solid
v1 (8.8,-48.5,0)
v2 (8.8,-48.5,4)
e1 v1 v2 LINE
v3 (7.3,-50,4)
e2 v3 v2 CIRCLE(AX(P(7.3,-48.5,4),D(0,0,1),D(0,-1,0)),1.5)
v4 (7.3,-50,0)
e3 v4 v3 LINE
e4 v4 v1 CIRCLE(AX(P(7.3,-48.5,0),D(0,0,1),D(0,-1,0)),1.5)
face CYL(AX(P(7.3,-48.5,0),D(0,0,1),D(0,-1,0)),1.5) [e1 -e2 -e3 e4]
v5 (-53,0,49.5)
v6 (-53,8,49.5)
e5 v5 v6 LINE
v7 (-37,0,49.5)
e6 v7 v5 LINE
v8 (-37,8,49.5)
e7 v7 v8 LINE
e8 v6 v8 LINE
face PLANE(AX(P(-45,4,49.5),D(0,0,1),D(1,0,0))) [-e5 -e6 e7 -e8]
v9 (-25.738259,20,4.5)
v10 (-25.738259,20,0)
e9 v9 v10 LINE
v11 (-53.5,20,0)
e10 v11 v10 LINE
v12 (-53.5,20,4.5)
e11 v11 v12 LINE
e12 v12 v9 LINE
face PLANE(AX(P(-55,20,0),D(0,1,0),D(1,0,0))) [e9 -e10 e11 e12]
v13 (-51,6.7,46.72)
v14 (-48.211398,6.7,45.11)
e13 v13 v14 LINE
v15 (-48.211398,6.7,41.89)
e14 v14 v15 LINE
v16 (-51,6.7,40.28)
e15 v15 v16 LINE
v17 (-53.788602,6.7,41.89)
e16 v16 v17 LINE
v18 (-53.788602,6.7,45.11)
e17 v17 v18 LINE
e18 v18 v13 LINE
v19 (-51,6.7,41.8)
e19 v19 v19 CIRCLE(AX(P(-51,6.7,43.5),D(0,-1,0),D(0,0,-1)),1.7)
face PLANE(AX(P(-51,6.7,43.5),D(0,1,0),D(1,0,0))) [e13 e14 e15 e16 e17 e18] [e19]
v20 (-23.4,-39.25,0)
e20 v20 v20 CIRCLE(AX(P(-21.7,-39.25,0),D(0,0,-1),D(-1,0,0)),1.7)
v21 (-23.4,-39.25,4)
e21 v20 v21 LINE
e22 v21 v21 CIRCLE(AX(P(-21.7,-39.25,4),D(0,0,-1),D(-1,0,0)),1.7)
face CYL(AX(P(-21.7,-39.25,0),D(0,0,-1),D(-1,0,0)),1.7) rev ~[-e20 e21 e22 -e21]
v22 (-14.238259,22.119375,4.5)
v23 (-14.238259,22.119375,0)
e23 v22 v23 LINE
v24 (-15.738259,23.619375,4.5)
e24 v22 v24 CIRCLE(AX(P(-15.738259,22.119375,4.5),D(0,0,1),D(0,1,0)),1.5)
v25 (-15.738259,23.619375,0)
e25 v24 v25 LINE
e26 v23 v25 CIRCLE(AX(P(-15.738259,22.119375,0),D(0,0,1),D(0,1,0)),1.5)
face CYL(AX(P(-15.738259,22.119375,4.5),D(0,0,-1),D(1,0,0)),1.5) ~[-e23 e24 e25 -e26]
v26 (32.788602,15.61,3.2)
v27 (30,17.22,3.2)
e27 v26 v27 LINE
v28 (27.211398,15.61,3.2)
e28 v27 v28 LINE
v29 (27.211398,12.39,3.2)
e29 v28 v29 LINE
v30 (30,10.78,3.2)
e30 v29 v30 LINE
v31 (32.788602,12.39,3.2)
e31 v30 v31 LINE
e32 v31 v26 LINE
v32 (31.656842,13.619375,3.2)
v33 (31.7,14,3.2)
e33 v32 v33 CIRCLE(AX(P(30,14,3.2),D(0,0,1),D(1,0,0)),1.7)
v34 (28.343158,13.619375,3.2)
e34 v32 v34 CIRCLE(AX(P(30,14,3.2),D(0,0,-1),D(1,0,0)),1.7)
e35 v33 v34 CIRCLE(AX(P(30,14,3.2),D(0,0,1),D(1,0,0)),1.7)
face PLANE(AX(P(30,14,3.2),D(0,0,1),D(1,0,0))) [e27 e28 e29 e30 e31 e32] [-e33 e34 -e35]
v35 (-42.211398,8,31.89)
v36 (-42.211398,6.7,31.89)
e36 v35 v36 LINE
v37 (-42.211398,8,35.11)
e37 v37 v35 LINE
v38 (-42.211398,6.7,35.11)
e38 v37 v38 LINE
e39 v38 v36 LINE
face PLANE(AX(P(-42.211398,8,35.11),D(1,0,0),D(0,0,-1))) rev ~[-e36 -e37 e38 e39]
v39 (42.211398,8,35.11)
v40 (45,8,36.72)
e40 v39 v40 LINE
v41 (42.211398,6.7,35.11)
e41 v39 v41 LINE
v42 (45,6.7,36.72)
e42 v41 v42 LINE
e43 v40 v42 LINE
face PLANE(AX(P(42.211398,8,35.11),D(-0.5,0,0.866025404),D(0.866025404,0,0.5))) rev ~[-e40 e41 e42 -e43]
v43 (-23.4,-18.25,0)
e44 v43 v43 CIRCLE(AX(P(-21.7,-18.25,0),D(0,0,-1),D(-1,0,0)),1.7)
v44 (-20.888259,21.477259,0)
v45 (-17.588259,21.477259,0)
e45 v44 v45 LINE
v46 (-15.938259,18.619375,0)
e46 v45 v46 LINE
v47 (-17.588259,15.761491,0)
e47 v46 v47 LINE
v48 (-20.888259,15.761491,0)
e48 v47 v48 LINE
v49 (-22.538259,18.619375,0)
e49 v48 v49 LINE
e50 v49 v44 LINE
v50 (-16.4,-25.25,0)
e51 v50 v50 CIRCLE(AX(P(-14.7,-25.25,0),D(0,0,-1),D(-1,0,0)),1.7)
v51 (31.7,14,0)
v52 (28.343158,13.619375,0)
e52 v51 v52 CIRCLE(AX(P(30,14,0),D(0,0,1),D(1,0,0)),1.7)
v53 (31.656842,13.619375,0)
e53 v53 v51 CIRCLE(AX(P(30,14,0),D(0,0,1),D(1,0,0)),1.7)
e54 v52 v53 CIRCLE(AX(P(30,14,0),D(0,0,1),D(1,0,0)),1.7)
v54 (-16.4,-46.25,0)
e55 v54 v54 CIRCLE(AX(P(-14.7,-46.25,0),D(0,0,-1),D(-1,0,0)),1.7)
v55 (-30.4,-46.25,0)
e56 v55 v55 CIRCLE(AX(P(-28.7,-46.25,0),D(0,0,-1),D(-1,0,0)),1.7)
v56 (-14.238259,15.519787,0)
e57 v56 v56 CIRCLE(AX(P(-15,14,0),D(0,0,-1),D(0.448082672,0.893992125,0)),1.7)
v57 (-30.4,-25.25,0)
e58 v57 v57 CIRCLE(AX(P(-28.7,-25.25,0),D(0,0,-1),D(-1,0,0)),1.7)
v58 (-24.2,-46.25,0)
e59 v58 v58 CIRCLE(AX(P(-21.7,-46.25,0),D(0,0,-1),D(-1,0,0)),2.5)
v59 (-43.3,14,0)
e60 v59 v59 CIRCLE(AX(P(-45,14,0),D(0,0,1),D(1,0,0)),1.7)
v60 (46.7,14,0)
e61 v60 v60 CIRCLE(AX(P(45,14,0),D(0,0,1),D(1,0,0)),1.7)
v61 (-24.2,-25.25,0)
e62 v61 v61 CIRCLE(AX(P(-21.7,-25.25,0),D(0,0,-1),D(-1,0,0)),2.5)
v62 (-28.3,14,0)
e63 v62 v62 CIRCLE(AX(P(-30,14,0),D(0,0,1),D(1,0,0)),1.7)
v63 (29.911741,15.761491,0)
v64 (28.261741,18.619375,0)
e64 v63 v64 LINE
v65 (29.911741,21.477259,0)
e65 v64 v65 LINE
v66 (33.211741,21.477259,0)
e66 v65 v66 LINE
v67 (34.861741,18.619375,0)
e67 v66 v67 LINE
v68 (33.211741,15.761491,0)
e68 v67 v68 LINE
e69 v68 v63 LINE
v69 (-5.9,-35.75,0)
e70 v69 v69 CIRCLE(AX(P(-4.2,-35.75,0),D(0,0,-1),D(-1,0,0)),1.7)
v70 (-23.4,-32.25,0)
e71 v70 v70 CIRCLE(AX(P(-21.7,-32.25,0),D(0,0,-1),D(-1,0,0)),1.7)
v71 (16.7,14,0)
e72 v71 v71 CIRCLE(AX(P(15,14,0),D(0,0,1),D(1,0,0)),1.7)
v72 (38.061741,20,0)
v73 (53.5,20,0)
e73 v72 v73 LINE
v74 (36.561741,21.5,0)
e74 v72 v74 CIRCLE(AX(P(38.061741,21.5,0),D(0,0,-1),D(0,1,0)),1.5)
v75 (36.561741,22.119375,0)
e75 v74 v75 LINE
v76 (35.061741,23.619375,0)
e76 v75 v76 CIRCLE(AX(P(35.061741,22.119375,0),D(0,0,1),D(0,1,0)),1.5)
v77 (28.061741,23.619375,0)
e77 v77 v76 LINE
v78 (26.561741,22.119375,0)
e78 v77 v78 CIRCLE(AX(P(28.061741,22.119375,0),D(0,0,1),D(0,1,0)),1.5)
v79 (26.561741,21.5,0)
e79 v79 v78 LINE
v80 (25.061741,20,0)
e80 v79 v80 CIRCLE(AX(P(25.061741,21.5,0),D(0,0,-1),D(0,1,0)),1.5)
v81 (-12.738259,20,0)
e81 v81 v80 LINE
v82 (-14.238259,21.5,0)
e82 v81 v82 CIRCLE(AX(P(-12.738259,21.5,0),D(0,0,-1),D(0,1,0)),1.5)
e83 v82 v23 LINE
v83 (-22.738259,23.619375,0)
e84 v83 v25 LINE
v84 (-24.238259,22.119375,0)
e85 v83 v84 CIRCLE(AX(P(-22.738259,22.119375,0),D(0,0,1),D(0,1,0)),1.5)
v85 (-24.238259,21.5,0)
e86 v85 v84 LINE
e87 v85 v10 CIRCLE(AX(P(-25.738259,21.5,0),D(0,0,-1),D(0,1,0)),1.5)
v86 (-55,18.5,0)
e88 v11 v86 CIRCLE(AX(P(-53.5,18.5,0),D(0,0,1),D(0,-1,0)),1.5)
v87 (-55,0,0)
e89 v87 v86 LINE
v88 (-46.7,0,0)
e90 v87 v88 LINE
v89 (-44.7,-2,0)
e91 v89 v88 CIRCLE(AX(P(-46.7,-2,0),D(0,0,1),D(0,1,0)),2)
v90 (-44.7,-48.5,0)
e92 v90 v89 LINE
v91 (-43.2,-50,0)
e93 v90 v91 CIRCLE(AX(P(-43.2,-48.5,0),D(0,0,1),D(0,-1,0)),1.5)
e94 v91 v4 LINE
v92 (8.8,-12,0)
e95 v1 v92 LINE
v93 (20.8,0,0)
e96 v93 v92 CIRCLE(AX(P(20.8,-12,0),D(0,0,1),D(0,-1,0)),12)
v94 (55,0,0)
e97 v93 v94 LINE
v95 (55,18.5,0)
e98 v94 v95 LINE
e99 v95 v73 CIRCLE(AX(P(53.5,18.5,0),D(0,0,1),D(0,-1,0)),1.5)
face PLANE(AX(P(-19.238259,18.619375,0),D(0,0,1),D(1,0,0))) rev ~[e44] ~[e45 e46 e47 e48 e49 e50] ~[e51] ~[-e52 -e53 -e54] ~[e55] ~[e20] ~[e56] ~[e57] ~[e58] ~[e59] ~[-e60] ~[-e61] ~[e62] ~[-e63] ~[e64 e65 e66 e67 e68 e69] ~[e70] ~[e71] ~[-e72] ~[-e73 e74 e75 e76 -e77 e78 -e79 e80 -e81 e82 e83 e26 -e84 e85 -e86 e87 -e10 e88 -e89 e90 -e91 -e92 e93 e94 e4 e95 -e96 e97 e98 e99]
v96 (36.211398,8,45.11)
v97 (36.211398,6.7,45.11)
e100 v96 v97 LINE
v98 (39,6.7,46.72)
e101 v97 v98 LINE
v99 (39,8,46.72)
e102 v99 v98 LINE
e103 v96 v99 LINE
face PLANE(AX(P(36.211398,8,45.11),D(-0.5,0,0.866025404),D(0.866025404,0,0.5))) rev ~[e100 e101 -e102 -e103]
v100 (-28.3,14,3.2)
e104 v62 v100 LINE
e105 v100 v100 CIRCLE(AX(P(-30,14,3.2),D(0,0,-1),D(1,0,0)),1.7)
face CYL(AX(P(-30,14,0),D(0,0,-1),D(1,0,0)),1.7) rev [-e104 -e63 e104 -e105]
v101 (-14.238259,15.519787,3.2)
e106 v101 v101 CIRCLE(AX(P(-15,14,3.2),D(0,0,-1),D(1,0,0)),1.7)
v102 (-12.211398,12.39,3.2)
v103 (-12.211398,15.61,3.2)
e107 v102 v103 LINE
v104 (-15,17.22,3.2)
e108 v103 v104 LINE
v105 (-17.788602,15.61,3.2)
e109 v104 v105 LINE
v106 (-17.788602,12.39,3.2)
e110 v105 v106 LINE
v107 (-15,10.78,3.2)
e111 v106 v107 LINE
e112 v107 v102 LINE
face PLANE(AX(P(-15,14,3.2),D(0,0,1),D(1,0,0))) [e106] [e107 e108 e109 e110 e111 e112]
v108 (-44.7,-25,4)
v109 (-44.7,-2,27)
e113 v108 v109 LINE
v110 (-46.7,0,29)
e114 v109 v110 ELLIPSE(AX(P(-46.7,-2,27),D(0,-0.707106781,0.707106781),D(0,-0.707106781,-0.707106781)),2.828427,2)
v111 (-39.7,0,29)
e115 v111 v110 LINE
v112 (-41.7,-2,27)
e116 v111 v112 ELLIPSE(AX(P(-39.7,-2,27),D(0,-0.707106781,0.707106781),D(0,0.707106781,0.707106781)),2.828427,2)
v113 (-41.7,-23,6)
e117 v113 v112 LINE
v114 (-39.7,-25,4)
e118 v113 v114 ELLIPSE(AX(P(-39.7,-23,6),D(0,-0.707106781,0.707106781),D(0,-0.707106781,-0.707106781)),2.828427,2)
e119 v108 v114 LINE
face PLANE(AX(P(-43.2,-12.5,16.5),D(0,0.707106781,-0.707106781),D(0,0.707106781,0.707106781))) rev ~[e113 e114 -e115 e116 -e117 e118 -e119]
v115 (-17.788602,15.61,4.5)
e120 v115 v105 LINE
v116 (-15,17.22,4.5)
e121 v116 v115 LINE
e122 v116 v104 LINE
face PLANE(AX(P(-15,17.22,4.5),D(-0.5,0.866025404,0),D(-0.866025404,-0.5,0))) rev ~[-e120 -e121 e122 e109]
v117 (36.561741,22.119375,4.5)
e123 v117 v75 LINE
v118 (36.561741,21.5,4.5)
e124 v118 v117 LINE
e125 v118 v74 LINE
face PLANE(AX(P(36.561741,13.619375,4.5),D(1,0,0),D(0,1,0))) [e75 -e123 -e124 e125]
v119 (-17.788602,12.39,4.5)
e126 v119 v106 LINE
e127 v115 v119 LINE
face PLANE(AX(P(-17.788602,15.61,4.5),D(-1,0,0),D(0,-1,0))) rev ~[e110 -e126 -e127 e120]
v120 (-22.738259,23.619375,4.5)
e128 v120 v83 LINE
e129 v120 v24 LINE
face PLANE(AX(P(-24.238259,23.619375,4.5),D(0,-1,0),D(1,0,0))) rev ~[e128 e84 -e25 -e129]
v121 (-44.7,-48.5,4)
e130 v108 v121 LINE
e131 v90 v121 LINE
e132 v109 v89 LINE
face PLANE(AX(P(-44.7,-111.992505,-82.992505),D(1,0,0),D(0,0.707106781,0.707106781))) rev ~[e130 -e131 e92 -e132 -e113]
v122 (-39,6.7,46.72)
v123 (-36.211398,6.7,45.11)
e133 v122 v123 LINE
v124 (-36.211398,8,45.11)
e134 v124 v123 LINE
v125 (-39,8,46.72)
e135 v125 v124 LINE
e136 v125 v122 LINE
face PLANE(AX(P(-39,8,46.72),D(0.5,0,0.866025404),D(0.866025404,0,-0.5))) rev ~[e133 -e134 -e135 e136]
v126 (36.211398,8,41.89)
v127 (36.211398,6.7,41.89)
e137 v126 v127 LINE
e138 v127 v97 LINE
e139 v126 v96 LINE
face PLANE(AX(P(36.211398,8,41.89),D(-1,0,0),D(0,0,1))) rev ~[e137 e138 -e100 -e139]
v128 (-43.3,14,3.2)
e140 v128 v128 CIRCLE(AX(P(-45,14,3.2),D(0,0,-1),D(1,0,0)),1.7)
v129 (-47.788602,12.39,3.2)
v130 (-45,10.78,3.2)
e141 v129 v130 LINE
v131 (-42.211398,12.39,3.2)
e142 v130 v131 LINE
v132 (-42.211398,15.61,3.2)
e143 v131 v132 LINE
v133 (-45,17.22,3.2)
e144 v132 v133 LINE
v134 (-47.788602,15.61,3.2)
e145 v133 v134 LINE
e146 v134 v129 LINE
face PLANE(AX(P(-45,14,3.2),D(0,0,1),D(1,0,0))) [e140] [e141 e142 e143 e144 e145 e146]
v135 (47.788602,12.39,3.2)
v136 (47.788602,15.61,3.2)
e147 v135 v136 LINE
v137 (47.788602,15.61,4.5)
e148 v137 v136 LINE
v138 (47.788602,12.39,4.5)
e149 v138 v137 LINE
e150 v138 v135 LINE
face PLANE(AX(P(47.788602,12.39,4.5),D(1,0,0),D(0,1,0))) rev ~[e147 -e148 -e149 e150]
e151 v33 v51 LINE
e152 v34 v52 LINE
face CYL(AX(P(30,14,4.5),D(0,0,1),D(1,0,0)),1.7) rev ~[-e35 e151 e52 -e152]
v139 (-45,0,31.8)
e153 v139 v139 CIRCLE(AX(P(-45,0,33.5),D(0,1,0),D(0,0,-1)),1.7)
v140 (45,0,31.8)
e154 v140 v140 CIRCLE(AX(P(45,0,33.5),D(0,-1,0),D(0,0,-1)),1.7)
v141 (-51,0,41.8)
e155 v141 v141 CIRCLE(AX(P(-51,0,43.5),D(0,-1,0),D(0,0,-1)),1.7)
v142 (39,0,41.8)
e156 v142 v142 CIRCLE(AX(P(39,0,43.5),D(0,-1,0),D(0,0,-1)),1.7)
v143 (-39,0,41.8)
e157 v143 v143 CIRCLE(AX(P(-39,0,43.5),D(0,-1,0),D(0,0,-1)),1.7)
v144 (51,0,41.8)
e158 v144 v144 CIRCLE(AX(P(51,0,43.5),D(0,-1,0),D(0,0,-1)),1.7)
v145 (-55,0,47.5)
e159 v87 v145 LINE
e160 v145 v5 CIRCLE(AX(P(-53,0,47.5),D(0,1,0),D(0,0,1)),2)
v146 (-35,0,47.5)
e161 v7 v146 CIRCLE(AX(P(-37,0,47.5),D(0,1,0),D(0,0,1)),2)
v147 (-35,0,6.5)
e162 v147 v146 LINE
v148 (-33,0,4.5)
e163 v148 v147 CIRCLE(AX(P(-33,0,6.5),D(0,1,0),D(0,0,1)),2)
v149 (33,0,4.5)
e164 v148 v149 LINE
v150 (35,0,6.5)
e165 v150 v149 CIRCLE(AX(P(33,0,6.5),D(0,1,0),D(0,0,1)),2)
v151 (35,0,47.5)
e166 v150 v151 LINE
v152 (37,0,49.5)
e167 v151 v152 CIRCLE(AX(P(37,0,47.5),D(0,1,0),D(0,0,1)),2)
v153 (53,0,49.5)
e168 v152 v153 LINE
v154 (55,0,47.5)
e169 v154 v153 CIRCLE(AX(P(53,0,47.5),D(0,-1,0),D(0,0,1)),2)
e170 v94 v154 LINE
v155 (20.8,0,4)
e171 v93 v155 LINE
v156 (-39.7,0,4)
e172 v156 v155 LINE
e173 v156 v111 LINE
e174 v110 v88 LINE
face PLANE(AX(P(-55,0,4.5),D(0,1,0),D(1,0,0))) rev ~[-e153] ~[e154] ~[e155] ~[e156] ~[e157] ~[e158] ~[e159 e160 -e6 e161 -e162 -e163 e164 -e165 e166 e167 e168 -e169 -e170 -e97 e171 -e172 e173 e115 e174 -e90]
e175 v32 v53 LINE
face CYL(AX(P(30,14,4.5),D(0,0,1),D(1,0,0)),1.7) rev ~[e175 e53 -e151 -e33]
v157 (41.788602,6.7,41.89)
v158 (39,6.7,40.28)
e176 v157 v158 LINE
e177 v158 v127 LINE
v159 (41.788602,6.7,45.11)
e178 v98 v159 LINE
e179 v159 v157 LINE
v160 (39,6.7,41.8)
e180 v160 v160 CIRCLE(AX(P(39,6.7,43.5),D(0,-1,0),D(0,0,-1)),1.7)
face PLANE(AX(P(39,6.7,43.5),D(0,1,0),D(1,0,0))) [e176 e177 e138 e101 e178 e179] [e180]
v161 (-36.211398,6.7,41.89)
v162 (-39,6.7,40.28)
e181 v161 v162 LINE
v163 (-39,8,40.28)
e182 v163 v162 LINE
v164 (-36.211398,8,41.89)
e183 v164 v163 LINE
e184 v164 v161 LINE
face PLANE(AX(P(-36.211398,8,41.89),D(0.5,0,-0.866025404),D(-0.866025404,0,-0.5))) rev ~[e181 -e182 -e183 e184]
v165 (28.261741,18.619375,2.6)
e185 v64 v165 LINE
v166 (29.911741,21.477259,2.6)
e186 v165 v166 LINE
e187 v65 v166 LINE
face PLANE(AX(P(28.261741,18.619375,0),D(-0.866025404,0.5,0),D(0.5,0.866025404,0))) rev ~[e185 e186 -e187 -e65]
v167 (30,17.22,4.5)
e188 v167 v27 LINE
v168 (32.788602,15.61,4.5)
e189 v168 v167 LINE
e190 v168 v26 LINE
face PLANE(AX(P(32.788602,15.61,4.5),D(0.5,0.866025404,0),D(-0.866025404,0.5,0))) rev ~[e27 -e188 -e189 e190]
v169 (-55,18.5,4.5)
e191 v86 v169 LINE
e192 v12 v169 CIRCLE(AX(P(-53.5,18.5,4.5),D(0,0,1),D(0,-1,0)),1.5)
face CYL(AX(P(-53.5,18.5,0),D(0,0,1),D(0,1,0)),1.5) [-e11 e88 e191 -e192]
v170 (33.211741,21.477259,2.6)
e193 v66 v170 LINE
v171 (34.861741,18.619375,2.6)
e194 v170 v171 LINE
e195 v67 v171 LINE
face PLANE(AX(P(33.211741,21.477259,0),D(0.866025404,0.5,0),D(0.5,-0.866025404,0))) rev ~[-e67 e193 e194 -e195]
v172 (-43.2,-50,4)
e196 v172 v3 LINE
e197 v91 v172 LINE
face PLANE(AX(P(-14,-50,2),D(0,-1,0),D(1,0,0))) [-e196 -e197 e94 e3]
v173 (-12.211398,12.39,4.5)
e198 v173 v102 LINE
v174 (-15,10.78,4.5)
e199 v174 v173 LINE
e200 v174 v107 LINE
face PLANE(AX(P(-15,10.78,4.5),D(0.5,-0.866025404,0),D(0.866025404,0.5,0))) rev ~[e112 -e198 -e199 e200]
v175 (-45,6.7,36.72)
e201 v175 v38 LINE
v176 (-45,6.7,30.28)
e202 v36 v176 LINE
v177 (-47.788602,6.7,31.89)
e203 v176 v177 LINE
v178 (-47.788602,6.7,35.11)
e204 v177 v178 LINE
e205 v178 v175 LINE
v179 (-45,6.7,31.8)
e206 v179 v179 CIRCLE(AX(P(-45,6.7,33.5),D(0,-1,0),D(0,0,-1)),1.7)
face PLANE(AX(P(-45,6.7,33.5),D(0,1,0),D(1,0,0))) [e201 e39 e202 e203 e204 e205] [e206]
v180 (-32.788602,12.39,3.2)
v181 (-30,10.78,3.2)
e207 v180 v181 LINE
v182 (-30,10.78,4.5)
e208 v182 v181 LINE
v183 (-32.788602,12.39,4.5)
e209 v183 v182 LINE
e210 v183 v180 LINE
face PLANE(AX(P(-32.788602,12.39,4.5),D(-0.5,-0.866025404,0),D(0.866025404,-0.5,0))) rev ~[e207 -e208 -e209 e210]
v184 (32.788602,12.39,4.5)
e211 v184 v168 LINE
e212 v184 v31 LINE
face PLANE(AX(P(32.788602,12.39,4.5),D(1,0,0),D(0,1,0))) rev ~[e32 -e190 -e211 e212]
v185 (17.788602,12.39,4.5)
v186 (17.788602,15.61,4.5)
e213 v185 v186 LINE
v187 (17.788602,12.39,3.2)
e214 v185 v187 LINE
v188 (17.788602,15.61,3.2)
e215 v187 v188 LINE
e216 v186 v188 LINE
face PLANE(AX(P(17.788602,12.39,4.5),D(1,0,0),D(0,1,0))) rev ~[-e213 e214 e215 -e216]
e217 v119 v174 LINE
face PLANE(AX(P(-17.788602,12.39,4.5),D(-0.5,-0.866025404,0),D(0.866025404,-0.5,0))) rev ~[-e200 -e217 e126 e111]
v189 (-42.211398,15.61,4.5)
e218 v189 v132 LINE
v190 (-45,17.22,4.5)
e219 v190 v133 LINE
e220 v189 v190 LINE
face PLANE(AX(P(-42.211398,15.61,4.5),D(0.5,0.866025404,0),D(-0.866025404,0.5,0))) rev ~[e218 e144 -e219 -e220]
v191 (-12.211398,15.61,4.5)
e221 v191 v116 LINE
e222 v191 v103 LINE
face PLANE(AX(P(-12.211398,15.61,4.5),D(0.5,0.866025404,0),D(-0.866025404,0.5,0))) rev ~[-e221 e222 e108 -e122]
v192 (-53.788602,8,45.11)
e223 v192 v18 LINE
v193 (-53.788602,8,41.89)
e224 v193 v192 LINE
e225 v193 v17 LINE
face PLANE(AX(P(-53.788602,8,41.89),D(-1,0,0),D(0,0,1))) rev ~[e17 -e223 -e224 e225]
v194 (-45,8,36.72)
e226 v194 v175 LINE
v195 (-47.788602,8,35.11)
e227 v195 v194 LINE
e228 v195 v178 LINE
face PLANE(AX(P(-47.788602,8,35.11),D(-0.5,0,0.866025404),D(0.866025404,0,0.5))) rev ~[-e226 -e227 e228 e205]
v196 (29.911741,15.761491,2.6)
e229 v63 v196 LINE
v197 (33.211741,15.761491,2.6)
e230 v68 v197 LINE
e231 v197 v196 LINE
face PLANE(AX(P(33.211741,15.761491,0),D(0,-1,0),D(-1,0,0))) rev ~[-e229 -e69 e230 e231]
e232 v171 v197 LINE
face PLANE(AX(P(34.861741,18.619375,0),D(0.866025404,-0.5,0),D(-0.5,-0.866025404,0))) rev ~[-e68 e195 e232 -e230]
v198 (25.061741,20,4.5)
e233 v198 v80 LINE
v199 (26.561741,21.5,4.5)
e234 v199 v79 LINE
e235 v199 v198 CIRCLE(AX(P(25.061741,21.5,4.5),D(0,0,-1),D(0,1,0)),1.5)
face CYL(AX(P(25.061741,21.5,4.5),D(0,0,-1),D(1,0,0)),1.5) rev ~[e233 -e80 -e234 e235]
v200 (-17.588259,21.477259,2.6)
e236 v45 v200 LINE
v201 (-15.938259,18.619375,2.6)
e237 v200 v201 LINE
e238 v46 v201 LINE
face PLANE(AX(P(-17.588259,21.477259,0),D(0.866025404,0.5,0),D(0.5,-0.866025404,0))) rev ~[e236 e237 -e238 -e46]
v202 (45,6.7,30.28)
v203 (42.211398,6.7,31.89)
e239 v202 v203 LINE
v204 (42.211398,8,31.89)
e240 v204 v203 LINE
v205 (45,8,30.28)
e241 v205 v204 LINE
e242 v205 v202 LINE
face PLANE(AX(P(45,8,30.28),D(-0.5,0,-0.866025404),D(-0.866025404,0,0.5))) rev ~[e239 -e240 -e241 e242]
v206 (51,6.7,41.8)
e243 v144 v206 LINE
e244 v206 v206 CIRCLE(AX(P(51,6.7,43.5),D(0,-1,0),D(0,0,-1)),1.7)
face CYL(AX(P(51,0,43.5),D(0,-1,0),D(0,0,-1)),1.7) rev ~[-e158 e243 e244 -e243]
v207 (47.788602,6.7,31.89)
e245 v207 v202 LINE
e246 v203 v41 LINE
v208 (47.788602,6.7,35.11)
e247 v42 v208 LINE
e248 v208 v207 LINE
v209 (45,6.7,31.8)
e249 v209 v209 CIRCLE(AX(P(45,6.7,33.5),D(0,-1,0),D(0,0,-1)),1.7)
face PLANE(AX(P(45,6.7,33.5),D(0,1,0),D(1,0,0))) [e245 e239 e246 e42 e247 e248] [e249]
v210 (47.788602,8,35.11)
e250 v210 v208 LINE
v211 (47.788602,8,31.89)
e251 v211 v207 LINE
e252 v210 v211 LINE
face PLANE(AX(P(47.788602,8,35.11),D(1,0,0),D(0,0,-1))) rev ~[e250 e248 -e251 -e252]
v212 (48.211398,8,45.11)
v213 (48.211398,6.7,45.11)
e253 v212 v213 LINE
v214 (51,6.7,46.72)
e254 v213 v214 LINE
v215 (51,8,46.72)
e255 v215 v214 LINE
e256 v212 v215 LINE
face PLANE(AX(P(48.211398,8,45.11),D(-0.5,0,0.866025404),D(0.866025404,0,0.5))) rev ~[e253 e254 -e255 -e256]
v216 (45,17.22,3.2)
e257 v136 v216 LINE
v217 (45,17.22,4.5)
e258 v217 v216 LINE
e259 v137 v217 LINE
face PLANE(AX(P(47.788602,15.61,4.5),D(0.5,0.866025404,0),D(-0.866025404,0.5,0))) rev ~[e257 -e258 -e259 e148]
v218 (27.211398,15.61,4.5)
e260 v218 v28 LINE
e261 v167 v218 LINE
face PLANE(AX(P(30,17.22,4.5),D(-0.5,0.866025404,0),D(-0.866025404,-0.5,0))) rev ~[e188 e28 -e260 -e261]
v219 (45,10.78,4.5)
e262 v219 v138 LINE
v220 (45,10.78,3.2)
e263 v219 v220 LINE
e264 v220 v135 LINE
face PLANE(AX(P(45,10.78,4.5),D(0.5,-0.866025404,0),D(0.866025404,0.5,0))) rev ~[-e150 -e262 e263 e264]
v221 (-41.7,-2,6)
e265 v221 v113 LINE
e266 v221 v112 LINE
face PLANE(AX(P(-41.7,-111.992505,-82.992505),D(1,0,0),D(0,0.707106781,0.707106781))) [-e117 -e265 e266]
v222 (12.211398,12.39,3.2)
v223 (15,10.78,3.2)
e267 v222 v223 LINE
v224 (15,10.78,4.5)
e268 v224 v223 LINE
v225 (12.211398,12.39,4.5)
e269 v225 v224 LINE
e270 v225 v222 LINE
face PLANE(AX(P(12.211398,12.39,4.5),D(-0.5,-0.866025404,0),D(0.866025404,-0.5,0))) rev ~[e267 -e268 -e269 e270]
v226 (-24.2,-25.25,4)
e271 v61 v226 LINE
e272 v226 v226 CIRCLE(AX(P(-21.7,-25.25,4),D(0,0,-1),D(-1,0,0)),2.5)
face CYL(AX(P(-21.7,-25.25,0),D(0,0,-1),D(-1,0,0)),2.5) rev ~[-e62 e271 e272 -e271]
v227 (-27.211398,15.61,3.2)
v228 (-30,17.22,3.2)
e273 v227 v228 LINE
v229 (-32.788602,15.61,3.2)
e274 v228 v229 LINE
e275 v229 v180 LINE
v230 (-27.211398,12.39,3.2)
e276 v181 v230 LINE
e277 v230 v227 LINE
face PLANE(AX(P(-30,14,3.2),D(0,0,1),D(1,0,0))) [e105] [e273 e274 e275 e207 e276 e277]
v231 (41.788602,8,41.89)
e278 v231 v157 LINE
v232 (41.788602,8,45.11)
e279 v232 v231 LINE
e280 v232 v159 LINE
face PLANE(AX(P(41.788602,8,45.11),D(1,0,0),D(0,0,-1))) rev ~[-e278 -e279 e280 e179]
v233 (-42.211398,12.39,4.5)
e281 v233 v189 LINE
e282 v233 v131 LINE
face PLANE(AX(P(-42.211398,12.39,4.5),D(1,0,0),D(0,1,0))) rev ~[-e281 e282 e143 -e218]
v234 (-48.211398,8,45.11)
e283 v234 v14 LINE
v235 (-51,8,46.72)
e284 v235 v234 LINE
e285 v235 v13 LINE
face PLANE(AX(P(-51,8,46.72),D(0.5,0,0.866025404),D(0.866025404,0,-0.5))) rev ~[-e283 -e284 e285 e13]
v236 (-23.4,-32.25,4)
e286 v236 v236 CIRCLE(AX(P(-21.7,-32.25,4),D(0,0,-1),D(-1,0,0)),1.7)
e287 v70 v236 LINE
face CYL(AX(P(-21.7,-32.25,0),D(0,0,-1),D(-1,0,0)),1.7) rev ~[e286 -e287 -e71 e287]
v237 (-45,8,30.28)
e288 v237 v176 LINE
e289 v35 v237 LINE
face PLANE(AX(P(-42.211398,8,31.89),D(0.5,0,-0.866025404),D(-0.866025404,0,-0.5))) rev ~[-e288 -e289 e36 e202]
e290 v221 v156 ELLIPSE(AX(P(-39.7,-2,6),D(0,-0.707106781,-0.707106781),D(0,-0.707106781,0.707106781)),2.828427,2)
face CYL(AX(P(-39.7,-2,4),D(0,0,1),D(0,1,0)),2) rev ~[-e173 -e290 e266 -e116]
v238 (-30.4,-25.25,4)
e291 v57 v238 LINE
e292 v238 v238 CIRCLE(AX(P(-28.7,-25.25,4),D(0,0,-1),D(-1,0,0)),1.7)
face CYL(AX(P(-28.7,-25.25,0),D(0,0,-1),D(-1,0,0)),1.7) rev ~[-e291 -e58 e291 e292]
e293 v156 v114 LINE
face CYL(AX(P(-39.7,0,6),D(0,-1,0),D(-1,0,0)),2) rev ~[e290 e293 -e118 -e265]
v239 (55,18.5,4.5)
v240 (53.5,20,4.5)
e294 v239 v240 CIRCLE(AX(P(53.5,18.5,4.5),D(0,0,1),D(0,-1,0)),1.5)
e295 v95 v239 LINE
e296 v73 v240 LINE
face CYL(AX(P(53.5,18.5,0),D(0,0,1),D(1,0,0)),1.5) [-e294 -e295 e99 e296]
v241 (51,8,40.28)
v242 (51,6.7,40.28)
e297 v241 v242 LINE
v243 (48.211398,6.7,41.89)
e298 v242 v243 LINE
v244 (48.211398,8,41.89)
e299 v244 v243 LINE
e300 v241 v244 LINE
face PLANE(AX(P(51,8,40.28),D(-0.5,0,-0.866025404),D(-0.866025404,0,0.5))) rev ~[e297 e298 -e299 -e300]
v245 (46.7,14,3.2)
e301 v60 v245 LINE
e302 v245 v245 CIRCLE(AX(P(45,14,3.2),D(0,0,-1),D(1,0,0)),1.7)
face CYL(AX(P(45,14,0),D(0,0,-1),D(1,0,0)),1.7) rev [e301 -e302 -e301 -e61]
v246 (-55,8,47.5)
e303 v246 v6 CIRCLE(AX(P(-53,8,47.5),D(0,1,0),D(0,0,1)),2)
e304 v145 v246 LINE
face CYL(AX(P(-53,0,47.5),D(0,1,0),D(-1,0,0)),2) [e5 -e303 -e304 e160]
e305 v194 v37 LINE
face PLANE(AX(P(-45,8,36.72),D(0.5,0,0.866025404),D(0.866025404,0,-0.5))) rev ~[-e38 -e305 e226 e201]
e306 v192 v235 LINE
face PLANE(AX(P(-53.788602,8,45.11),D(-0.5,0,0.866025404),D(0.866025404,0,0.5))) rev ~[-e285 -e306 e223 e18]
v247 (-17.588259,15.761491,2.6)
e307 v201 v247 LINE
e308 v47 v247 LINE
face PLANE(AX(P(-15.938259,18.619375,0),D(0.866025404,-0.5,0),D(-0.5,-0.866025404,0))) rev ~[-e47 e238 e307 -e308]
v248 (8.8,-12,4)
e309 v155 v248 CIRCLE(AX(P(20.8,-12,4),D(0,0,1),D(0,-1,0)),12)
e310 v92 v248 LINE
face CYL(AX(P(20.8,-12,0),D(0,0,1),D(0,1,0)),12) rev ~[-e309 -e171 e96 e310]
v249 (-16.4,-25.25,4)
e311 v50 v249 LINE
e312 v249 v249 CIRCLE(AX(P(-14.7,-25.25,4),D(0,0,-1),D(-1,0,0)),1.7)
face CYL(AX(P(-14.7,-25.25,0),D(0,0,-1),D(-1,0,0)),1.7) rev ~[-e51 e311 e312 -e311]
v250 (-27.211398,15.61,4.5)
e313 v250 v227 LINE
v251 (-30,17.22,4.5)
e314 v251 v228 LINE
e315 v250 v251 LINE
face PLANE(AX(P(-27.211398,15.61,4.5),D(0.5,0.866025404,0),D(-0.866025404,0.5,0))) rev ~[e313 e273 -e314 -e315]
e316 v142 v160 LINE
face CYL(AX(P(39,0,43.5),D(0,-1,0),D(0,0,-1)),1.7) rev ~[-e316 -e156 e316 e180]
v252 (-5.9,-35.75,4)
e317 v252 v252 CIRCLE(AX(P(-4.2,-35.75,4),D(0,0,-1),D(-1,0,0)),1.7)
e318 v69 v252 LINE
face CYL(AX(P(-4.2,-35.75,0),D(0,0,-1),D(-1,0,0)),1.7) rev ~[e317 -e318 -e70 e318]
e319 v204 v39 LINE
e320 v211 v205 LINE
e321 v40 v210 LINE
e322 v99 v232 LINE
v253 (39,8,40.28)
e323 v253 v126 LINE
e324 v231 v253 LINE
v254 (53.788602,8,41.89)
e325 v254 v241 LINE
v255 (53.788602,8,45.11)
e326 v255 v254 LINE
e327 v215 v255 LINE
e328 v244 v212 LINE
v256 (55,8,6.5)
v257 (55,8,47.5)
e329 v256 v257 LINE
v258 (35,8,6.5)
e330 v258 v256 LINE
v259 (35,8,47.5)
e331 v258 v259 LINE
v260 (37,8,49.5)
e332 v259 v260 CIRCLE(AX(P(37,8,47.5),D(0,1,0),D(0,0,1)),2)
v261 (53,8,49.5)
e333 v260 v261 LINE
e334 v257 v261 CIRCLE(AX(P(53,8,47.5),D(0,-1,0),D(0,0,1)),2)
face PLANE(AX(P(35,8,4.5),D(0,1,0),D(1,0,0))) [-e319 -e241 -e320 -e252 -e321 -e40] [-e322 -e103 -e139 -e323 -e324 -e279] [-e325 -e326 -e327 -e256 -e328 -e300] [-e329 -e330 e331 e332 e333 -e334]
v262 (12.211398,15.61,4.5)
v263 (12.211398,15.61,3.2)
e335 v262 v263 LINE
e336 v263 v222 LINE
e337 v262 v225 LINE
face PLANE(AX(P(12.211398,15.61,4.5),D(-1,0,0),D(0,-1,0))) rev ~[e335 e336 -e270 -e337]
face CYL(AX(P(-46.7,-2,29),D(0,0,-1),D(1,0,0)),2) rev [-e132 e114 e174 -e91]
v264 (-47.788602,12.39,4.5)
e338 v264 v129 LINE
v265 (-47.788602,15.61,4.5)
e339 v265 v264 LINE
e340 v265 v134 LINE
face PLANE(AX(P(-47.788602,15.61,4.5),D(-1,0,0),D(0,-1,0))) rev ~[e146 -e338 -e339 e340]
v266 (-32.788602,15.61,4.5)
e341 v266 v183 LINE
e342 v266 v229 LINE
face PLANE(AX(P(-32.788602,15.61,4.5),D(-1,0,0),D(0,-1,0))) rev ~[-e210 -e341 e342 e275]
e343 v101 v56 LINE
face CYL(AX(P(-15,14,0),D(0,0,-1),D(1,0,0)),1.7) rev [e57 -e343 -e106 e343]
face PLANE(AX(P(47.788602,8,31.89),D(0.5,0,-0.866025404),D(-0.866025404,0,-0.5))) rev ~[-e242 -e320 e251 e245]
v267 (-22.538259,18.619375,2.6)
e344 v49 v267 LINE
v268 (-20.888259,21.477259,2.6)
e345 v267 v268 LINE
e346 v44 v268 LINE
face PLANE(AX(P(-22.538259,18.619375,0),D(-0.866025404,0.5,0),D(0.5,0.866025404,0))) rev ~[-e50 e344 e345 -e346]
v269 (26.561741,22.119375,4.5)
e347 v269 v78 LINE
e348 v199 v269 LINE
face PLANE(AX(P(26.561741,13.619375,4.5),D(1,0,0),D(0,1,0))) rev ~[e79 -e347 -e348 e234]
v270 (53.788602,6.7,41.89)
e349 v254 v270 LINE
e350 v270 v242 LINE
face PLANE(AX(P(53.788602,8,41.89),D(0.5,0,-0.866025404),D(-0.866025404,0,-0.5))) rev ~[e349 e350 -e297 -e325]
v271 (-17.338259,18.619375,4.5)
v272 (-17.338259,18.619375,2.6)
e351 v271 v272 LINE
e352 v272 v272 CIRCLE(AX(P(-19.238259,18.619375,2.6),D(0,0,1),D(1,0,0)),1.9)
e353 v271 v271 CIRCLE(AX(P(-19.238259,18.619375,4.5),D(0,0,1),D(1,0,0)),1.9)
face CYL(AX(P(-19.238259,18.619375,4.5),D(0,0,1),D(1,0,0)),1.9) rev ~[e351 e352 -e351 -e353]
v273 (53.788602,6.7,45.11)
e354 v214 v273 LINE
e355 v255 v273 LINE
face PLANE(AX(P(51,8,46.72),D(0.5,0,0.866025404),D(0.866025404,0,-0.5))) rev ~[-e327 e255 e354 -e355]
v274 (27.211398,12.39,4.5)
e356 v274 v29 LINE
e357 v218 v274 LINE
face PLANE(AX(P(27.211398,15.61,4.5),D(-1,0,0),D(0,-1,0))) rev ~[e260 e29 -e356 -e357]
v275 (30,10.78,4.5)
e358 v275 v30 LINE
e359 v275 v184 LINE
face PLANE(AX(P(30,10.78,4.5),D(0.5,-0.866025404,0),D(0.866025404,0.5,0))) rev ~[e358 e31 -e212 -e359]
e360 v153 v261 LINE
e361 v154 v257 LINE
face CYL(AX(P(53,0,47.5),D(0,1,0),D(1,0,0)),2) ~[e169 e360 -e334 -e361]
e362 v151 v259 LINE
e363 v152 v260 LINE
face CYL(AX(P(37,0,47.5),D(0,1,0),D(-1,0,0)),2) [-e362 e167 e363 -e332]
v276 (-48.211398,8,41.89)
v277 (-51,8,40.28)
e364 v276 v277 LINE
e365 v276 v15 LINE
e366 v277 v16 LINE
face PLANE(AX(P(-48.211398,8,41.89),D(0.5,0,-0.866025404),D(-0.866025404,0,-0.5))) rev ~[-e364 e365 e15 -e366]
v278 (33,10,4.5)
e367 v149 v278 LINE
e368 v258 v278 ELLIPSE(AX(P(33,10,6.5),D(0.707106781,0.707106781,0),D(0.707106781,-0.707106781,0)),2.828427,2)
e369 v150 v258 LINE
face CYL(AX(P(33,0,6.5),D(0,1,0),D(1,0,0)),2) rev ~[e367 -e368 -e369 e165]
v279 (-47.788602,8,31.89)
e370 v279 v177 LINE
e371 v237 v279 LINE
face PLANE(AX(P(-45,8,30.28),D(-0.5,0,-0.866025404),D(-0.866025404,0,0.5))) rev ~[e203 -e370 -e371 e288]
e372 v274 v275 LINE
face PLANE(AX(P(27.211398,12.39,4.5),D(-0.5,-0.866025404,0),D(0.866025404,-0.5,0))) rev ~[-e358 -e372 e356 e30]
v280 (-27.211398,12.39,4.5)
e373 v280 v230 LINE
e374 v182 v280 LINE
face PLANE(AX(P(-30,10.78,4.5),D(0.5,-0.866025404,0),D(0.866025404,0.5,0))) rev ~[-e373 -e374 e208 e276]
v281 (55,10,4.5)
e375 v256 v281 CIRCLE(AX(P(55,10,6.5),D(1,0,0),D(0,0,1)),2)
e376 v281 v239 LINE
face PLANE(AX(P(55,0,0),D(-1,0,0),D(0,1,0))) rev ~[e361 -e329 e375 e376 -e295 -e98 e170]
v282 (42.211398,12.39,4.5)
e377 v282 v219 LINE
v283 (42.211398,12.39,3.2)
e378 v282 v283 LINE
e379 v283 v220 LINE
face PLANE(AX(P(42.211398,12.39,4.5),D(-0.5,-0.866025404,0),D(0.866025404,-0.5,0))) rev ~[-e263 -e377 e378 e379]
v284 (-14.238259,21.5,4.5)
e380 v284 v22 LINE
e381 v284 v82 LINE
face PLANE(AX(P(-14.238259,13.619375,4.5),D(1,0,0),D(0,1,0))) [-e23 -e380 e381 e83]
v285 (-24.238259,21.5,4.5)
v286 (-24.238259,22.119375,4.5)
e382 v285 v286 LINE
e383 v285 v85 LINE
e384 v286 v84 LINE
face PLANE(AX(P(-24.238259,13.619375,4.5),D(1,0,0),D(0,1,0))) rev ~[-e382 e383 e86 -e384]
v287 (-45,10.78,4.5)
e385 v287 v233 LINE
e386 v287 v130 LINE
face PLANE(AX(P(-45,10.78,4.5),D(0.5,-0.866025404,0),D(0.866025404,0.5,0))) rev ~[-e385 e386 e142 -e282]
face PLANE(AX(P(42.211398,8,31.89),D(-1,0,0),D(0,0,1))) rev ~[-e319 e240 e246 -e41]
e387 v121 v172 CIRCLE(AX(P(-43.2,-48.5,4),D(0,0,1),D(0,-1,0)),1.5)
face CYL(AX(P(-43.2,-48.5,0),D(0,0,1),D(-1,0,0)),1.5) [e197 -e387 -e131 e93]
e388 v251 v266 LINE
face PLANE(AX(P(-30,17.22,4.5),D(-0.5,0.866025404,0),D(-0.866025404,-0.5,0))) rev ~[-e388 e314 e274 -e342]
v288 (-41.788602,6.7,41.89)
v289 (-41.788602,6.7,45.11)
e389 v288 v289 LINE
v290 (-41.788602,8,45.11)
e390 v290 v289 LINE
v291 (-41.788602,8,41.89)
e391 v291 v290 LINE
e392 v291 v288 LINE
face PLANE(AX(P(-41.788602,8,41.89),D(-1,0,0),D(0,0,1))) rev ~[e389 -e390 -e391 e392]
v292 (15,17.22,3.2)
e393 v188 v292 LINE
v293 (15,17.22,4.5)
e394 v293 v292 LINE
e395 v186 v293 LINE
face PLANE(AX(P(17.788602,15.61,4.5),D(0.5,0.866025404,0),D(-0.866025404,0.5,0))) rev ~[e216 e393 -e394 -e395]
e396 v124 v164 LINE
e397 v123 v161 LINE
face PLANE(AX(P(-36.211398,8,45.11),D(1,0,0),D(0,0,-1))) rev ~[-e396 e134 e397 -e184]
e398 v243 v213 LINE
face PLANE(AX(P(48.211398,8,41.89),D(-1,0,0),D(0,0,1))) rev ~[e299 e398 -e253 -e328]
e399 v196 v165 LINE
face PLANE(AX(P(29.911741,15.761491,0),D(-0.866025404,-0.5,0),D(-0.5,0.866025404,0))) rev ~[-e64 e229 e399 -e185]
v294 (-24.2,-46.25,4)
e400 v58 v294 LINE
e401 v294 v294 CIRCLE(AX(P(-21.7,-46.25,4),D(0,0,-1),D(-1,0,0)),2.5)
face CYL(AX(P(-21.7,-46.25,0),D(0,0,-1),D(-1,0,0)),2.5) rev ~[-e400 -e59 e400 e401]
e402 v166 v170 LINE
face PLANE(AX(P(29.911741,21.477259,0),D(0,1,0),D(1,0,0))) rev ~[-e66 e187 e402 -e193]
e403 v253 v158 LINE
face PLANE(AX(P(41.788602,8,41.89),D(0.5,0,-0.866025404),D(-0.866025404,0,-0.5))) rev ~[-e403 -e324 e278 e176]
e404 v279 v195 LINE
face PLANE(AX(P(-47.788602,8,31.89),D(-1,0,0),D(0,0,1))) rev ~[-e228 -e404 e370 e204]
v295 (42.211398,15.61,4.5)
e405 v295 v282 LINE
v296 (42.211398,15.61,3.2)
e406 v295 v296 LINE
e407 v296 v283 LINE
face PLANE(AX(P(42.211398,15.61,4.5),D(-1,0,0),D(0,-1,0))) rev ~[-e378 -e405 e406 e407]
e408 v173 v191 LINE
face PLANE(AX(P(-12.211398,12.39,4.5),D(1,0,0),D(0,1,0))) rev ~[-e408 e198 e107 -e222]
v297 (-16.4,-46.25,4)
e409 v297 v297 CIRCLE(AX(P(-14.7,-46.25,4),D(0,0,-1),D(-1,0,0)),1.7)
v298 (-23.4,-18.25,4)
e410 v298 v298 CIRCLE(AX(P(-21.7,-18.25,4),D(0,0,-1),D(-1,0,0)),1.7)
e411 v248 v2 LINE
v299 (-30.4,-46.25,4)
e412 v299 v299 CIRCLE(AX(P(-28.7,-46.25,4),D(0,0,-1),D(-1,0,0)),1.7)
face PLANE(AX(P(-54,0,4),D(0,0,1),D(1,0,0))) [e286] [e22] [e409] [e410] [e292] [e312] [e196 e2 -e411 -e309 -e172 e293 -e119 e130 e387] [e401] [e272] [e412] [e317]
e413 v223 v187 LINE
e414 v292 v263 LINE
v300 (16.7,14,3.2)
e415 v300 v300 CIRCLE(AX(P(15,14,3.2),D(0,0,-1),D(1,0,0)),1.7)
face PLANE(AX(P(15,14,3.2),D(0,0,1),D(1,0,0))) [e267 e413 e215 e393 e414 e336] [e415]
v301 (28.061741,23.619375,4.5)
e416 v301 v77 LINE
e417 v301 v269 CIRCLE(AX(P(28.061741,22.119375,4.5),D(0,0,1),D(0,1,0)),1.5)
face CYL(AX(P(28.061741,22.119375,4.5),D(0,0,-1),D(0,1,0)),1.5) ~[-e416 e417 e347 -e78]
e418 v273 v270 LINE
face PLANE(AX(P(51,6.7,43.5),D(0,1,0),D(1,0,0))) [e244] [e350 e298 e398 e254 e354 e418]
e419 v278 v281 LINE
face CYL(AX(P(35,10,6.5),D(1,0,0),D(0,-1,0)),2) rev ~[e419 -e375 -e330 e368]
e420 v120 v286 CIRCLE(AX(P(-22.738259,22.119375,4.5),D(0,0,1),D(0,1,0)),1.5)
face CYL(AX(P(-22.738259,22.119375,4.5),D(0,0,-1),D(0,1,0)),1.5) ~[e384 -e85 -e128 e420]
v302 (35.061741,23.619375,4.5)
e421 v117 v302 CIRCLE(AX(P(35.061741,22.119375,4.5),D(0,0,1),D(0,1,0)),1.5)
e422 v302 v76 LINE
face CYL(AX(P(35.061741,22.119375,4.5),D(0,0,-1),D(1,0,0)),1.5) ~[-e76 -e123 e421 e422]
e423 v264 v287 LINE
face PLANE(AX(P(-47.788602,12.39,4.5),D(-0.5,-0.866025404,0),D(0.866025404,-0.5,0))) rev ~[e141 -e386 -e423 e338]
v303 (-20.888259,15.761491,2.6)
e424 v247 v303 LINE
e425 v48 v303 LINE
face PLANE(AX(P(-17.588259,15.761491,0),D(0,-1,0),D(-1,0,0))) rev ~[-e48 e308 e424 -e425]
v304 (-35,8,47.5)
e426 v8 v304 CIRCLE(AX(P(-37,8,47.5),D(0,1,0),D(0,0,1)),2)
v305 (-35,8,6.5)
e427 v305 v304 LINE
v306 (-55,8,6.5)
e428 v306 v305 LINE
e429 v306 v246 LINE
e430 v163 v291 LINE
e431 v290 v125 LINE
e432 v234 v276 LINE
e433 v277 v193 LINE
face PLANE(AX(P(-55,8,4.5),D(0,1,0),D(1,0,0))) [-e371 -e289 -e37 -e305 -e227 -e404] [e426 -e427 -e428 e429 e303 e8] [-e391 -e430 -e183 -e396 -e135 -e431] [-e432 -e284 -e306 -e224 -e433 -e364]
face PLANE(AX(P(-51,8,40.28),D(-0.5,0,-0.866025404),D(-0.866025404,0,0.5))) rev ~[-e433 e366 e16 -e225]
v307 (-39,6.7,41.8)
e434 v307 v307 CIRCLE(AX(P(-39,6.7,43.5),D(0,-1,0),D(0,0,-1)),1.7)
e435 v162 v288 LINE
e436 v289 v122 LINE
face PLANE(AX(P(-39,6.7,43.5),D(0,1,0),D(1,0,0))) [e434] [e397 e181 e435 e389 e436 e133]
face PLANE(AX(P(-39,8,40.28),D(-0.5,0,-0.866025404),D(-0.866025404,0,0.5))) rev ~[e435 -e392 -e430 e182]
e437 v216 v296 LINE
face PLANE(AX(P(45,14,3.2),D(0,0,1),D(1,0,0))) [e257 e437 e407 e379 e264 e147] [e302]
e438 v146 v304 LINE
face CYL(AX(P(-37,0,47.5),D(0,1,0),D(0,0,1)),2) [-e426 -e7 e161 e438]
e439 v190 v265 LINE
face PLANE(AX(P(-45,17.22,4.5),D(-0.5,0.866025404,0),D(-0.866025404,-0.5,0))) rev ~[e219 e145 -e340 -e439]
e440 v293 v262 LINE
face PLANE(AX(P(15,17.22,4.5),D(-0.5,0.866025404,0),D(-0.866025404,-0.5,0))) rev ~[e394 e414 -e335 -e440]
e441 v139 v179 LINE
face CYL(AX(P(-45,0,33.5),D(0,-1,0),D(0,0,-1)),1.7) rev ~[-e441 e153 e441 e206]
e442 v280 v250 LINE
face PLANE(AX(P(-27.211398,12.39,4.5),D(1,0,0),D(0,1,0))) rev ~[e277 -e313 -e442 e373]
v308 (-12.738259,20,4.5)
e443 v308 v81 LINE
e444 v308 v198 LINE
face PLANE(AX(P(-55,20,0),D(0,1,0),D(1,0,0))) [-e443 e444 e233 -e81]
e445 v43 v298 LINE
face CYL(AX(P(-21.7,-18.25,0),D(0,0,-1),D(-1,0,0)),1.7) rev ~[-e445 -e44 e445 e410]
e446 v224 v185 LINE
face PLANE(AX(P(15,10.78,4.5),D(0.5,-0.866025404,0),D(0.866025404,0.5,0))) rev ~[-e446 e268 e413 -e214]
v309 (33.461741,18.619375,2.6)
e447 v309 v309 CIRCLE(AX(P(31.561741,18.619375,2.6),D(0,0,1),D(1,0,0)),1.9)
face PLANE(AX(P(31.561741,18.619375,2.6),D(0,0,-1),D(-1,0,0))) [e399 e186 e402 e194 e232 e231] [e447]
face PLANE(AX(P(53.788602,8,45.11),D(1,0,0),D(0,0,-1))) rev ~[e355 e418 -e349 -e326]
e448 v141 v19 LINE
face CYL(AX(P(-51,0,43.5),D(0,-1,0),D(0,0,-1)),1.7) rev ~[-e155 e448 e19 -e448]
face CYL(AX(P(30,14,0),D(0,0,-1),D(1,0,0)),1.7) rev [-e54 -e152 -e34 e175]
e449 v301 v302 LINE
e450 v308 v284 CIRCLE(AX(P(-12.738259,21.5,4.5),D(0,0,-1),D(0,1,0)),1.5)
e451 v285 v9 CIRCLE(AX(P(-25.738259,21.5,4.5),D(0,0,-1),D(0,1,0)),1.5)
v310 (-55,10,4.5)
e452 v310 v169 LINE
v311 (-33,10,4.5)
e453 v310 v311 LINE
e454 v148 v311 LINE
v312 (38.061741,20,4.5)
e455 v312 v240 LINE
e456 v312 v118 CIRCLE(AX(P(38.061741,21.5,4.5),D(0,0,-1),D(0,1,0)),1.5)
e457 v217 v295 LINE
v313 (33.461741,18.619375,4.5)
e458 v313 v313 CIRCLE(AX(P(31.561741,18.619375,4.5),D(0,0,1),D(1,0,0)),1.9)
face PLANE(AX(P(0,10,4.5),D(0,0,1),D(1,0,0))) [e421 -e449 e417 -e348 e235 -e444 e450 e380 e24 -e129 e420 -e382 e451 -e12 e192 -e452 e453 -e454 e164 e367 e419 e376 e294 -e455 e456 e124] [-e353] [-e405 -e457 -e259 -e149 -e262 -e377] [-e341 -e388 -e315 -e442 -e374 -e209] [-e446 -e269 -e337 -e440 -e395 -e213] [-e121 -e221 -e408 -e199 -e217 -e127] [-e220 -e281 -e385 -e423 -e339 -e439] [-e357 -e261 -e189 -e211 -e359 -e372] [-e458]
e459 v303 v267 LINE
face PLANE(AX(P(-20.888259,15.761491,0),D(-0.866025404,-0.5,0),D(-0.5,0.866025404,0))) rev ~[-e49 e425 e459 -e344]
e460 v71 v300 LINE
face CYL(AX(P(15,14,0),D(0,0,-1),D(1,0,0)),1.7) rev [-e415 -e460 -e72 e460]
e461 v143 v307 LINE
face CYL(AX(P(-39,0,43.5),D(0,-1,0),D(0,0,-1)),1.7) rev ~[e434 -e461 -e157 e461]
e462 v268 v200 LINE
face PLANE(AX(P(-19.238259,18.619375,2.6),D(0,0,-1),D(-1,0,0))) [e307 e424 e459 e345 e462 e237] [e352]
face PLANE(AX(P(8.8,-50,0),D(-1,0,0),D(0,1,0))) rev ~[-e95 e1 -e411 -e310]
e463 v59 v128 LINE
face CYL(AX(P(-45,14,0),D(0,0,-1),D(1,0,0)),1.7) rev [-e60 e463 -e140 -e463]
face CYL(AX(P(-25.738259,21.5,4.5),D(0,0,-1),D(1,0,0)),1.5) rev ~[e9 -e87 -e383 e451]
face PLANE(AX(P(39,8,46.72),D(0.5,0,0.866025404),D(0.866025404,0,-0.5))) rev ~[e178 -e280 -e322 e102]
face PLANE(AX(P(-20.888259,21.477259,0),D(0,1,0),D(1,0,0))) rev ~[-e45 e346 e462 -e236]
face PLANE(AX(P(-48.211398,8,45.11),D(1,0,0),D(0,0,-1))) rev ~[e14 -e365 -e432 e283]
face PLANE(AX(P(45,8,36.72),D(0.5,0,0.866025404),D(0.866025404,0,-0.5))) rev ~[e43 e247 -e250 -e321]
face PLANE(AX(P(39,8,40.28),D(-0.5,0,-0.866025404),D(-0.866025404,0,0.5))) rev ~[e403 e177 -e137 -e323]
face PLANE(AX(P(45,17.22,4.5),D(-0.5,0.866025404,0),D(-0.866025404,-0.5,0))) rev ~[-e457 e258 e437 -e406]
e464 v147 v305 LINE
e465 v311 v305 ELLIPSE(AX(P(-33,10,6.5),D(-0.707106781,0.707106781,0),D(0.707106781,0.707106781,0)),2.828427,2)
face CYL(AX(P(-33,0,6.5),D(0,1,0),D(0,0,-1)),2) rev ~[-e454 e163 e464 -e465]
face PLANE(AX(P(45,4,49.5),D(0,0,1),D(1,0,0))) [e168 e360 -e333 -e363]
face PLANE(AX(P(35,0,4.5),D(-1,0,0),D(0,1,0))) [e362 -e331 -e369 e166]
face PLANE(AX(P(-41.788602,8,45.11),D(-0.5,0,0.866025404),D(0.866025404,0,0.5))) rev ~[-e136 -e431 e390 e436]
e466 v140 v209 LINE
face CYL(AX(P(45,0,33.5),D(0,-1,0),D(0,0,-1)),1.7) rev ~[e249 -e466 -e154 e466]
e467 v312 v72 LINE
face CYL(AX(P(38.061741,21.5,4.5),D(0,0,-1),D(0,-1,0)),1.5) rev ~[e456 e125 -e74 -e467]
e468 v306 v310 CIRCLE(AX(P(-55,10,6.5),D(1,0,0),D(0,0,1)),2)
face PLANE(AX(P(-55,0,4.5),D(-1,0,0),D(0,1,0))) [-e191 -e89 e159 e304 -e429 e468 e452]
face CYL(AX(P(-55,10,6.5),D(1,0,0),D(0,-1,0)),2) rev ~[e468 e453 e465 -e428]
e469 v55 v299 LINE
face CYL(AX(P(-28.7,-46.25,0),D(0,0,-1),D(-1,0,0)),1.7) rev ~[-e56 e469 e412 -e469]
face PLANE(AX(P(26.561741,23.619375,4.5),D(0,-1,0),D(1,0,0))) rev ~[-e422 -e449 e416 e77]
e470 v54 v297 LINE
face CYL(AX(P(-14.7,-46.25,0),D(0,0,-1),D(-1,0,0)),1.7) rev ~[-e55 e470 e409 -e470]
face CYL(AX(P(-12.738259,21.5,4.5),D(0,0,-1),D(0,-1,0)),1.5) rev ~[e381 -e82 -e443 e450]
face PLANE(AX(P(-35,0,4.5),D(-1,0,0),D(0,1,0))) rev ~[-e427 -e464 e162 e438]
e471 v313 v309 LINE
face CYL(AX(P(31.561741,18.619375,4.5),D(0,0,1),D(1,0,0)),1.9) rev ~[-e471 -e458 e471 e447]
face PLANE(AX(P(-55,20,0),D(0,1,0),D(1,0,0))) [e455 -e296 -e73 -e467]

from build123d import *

# Parameters (mm, degrees)
SKETCH_1_W          = 110
SKETCH_1_H          = 20
SKETCH_1_R          = 1.7
EXTRUDE_1_DEPTH     = 4.5
SKETCH_2_W          = 20
SKETCH_2_H          = 8
EXTRUDE_2_DEPTH     = 45
SKETCH_4_W          = 10
SKETCH_4_H          = 10
EXTRUDE_3_DEPTH     = 4.5
SKETCH_5_R          = 1.9
SKETCH_5_R_2        = 1.7
CUT_EXTRUDE_1_DEPTH = 75.885745444
CUT_EXTRUDE_2_DEPTH = 1.3
CUT_EXTRUDE_3_DEPTH = 2.6
SKETCH_7_R          = 1.7
CUT_EXTRUDE_5_DEPTH = 78.673192742
CUT_EXTRUDE_6_DEPTH = 1.3
SKETCH_9_W          = 80
SKETCH_9_H          = 4
EXTRUDE_4_DEPTH     = 50
SKETCH_11_W         = 17.2
SKETCH_11_H         = 50
SKETCH_11_W_2       = 9.3
SKETCH_11_R         = 2.5
SKETCH_11_R_2       = 1.7
CUT_EXTRUDE_7_DEPTH = 90.304255218
RIB_4_REACH         = 124.026
SKETCH_12_WALL_W    = 281.40730074
SKETCH_12_WALL_H    = 3
FILLET_1_R          = 2
FILLET_2_R          = 1.5
FILLET_3_R          = 2
FILLET_4_R          = 12


with BuildPart() as part:
    # 草图1 → 凸台-拉伸1 (new body)
    with BuildSketch(Plane.XY):
        with Locations((0, 10)):
            Rectangle(SKETCH_1_W, SKETCH_1_H)
        with Locations((-45, 14)):
            Circle(SKETCH_1_R, mode=Mode.SUBTRACT)
        with Locations((-30, 14)):
            Circle(SKETCH_1_R, mode=Mode.SUBTRACT)
        with Locations((-15, 14)):
            Circle(SKETCH_1_R, mode=Mode.SUBTRACT)
        with Locations((15, 14)):
            Circle(SKETCH_1_R, mode=Mode.SUBTRACT)
        with Locations((30, 14)):
            Circle(SKETCH_1_R, mode=Mode.SUBTRACT)
        with Locations((45, 14)):
            Circle(SKETCH_1_R, mode=Mode.SUBTRACT)
    extrude(amount=EXTRUDE_1_DEPTH)

    # 草图2 → 凸台-拉伸2 (add)
    with BuildSketch(Plane.XY.offset(4.5)):
        with Locations((-45, 4)):
            Rectangle(SKETCH_2_W, SKETCH_2_H)
        with Locations((45, 4)):
            Rectangle(SKETCH_2_W, SKETCH_2_H)
    extrude(amount=EXTRUDE_2_DEPTH)

    # 草图4 → 凸台-拉伸3 (add)
    with BuildSketch(Plane.XY.offset(4.5)):
        with Locations((-19.238259457, 18.6193749)):
            Rectangle(SKETCH_4_W, SKETCH_4_H)
        with Locations((31.561740543, 18.6193749)):
            Rectangle(SKETCH_4_W, SKETCH_4_H)
    extrude(amount=-EXTRUDE_3_DEPTH)

    # 草图5 → 切除-拉伸1 (cut, through all)
    with BuildSketch(Plane.XY.offset(4.5)):
        with Locations((-19.238259457, 18.6193749)):
            Circle(SKETCH_5_R)
        with Locations((31.561740543, 18.6193749)):
            Circle(SKETCH_5_R)
        with Locations((-15, 14)):
            Circle(SKETCH_5_R_2)
        with Locations((30, 14)):
            Circle(SKETCH_5_R_2)
    extrude(amount=-CUT_EXTRUDE_1_DEPTH, mode=Mode.SUBTRACT)

    # 草图3 → 切除-拉伸2 (cut)
    with BuildSketch(Plane.XY.offset(4.5)):
        Polygon((-45, 17.22), (-47.7886018, 15.61), (-47.7886018, 12.39), (-45, 10.78), (-42.2113982, 12.39), (-42.2113982, 15.61), align=None)
        Polygon((-30, 17.22), (-32.7886018, 15.61), (-32.7886018, 12.39), (-30, 10.78), (-27.2113982, 12.39), (-27.2113982, 15.61), align=None)
        Polygon((-15, 17.22), (-17.7886018, 15.61), (-17.7886018, 12.39), (-15, 10.78), (-12.2113982, 12.39), (-12.2113982, 15.61), align=None)
        Polygon((15, 17.22), (12.2113982, 15.61), (12.2113982, 12.39), (15, 10.78), (17.7886018, 12.39), (17.7886018, 15.61), align=None)
        Polygon((30, 17.22), (27.2113982, 15.61), (27.2113982, 12.39), (30, 10.78), (32.7886018, 12.39), (32.7886018, 15.61), align=None)
        Polygon((45, 17.22), (42.2113982, 15.61), (42.2113982, 12.39), (45, 10.78), (47.7886018, 12.39), (47.7886018, 15.61), align=None)
    extrude(amount=-CUT_EXTRUDE_2_DEPTH, mode=Mode.SUBTRACT)

    # 草图6 → 切除-拉伸3 (cut)
    with BuildSketch(Plane(origin=(0, 0, 0), x_dir=(-1, 0, 0), z_dir=(0, 0, -1))):
        Polygon((-34.861740543, 18.6193749), (-33.211740543, 15.761491068), (-29.911740543, 15.761491068), (-28.261740543, 18.6193749), (-29.911740543, 21.477258733), (-33.211740543, 21.477258733), align=None)
        Polygon((15.938259457, 18.6193749), (17.588259457, 15.761491068), (20.888259457, 15.761491068), (22.538259457, 18.6193749), (20.888259457, 21.477258733), (17.588259457, 21.477258733), align=None)
    extrude(amount=-CUT_EXTRUDE_3_DEPTH, mode=Mode.SUBTRACT)

    # 草图7 → 切除-拉伸5 (cut, through all)
    with BuildSketch(Plane.XZ):
        with Locations(Location((-51, 43.5, 0), (0, 0, 270))):
            Circle(SKETCH_7_R)
        with Locations(Location((-39, 43.5, 0), (0, 0, 270))):
            Circle(SKETCH_7_R)
        with Locations(Location((-45, 33.5, 0), (0, 0, 270))):
            Circle(SKETCH_7_R)
        with Locations(Location((51, 43.5, 0), (0, 0, 270))):
            Circle(SKETCH_7_R)
        with Locations(Location((39, 43.5, 0), (0, 0, 270))):
            Circle(SKETCH_7_R)
        with Locations(Location((45, 33.5, 0), (0, 0, 270))):
            Circle(SKETCH_7_R)
    extrude(amount=-CUT_EXTRUDE_5_DEPTH, mode=Mode.SUBTRACT)

    # 草图8 → 切除-拉伸6 (cut)
    with BuildSketch(Plane(origin=(0, 8, 0), x_dir=(1, 0, 0), z_dir=(0, 1, 0))):
        Polygon((51, -46.72), (53.7886018, -45.11), (53.7886018, -41.89), (51, -40.28), (48.2113982, -41.89), (48.2113982, -45.11), align=None)
        Polygon((39, -46.72), (41.7886018, -45.11), (41.7886018, -41.89), (39, -40.28), (36.2113982, -41.89), (36.2113982, -45.11), align=None)
        Polygon((45, -36.72), (47.7886018, -35.11), (47.7886018, -31.89), (45, -30.28), (42.2113982, -31.89), (42.2113982, -35.11), align=None)
        Polygon((-39, -46.72), (-36.2113982, -45.11), (-36.2113982, -41.89), (-39, -40.28), (-41.7886018, -41.89), (-41.7886018, -45.11), align=None)
        Polygon((-51, -46.72), (-48.2113982, -45.11), (-48.2113982, -41.89), (-51, -40.28), (-53.7886018, -41.89), (-53.7886018, -45.11), align=None)
        Polygon((-45, -36.72), (-42.2113982, -35.11), (-42.2113982, -31.89), (-45, -30.28), (-47.7886018, -31.89), (-47.7886018, -35.11), align=None)
    extrude(amount=-CUT_EXTRUDE_6_DEPTH, mode=Mode.SUBTRACT)

    # 草图9 → 凸台-拉伸4 (add)
    with BuildSketch(Plane.XZ):
        with Locations((-14, 2)):
            Rectangle(SKETCH_9_W, SKETCH_9_H)
    extrude(amount=EXTRUDE_4_DEPTH)

    # 草图11 → 切除-拉伸7 (cut, through all)
    with BuildSketch(Plane(origin=(0, 0, 0), x_dir=(-1, 0, 0), z_dir=(0, 0, -1))):
        with Locations((-17.4, -25)):
            Rectangle(SKETCH_11_W, SKETCH_11_H)
        with Locations((49.35, -25)):
            Rectangle(SKETCH_11_W_2, SKETCH_11_H)
        with Locations((21.7, -46.25)):
            Circle(SKETCH_11_R)
        with Locations((14.7, -46.25)):
            Circle(SKETCH_11_R_2)
        with Locations((28.7, -46.25)):
            Circle(SKETCH_11_R_2)
        with Locations((21.7, -39.25)):
            Circle(SKETCH_11_R_2)
        with Locations((21.7, -32.25)):
            Circle(SKETCH_11_R_2)
        with Locations((14.7, -25.25)):
            Circle(SKETCH_11_R_2)
        with Locations((21.7, -18.25)):
            Circle(SKETCH_11_R_2)
        with Locations((28.7, -25.25)):
            Circle(SKETCH_11_R_2)
        with Locations((21.7, -25.25)):
            Circle(SKETCH_11_R)
        with Locations((4.2, -35.75)):
            Circle(SKETCH_11_R_2)
    extrude(amount=-CUT_EXTRUDE_7_DEPTH, mode=Mode.SUBTRACT)

    # 草图12 wall → 筋4 (add, up to next)
    with BuildSketch(Plane(origin=(-44.7, -12.5, 16.5), x_dir=(0, 0.707106781187, 0.707106781187), z_dir=(0, 0.707106781187, -0.707106781187)), mode=Mode.PRIVATE) as rib_4_sk1:
        with Locations((0, 1.5)):
            Rectangle(SKETCH_12_WALL_W, SKETCH_12_WALL_H)
    rib_4_tool1 = extrude(rib_4_sk1.sketch, amount=RIB_4_REACH, mode=Mode.PRIVATE) - part.part
    add(rib_4_tool1.solids().sort_by_distance((-44.7, -12.5, 16.5))[0])

    # 圆角1
    fillet_1_edges = [part.edges().sort_by_distance(p)[0] for p in [
        (-35, 4, 4.5),
        (-45, 8, 4.5),
        (45, 8, 4.5),
        (35, 4, 4.5),
        (-44.7, 0, 14.5),
        (-41.7, -12.5, 4),
        (-41.7, 0, 16.5),
    ]]
    fillet(fillet_1_edges, radius=FILLET_1_R)

    # 圆角2
    fillet_2_edges = [part.edges().sort_by_distance(p)[0] for p in [
        (-44.7, -50, 2),
        (8.8, -50, 2),
        (-24.238259457, 20, 2.25),
        (-14.238259457, 23.6193749, 2.25),
        (-14.238259457, 20, 2.25),
        (-24.238259457, 23.6193749, 2.25),
        (-55, 20, 2.25),
        (55, 20, 2.25),
        (36.561740543, 23.6193749, 2.25),
        (36.561740543, 20, 2.25),
        (26.561740543, 20, 2.25),
        (26.561740543, 23.6193749, 2.25),
    ]]
    fillet(fillet_2_edges, radius=FILLET_2_R)

    # 圆角3
    fillet_3_edges = [part.edges().sort_by_distance(p)[0] for p in [
        (-55, 4, 49.5),
        (-35, 4, 49.5),
        (55, 4, 49.5),
        (35, 4, 49.5),
    ]]
    fillet(fillet_3_edges, radius=FILLET_3_R)

    # 圆角4
    fillet_4_edges = [part.edges().sort_by_distance(p)[0] for p in [
        (8.8, 0, 2),
    ]]
    fillet(fillet_4_edges, radius=FILLET_4_R)


solid = part.part
